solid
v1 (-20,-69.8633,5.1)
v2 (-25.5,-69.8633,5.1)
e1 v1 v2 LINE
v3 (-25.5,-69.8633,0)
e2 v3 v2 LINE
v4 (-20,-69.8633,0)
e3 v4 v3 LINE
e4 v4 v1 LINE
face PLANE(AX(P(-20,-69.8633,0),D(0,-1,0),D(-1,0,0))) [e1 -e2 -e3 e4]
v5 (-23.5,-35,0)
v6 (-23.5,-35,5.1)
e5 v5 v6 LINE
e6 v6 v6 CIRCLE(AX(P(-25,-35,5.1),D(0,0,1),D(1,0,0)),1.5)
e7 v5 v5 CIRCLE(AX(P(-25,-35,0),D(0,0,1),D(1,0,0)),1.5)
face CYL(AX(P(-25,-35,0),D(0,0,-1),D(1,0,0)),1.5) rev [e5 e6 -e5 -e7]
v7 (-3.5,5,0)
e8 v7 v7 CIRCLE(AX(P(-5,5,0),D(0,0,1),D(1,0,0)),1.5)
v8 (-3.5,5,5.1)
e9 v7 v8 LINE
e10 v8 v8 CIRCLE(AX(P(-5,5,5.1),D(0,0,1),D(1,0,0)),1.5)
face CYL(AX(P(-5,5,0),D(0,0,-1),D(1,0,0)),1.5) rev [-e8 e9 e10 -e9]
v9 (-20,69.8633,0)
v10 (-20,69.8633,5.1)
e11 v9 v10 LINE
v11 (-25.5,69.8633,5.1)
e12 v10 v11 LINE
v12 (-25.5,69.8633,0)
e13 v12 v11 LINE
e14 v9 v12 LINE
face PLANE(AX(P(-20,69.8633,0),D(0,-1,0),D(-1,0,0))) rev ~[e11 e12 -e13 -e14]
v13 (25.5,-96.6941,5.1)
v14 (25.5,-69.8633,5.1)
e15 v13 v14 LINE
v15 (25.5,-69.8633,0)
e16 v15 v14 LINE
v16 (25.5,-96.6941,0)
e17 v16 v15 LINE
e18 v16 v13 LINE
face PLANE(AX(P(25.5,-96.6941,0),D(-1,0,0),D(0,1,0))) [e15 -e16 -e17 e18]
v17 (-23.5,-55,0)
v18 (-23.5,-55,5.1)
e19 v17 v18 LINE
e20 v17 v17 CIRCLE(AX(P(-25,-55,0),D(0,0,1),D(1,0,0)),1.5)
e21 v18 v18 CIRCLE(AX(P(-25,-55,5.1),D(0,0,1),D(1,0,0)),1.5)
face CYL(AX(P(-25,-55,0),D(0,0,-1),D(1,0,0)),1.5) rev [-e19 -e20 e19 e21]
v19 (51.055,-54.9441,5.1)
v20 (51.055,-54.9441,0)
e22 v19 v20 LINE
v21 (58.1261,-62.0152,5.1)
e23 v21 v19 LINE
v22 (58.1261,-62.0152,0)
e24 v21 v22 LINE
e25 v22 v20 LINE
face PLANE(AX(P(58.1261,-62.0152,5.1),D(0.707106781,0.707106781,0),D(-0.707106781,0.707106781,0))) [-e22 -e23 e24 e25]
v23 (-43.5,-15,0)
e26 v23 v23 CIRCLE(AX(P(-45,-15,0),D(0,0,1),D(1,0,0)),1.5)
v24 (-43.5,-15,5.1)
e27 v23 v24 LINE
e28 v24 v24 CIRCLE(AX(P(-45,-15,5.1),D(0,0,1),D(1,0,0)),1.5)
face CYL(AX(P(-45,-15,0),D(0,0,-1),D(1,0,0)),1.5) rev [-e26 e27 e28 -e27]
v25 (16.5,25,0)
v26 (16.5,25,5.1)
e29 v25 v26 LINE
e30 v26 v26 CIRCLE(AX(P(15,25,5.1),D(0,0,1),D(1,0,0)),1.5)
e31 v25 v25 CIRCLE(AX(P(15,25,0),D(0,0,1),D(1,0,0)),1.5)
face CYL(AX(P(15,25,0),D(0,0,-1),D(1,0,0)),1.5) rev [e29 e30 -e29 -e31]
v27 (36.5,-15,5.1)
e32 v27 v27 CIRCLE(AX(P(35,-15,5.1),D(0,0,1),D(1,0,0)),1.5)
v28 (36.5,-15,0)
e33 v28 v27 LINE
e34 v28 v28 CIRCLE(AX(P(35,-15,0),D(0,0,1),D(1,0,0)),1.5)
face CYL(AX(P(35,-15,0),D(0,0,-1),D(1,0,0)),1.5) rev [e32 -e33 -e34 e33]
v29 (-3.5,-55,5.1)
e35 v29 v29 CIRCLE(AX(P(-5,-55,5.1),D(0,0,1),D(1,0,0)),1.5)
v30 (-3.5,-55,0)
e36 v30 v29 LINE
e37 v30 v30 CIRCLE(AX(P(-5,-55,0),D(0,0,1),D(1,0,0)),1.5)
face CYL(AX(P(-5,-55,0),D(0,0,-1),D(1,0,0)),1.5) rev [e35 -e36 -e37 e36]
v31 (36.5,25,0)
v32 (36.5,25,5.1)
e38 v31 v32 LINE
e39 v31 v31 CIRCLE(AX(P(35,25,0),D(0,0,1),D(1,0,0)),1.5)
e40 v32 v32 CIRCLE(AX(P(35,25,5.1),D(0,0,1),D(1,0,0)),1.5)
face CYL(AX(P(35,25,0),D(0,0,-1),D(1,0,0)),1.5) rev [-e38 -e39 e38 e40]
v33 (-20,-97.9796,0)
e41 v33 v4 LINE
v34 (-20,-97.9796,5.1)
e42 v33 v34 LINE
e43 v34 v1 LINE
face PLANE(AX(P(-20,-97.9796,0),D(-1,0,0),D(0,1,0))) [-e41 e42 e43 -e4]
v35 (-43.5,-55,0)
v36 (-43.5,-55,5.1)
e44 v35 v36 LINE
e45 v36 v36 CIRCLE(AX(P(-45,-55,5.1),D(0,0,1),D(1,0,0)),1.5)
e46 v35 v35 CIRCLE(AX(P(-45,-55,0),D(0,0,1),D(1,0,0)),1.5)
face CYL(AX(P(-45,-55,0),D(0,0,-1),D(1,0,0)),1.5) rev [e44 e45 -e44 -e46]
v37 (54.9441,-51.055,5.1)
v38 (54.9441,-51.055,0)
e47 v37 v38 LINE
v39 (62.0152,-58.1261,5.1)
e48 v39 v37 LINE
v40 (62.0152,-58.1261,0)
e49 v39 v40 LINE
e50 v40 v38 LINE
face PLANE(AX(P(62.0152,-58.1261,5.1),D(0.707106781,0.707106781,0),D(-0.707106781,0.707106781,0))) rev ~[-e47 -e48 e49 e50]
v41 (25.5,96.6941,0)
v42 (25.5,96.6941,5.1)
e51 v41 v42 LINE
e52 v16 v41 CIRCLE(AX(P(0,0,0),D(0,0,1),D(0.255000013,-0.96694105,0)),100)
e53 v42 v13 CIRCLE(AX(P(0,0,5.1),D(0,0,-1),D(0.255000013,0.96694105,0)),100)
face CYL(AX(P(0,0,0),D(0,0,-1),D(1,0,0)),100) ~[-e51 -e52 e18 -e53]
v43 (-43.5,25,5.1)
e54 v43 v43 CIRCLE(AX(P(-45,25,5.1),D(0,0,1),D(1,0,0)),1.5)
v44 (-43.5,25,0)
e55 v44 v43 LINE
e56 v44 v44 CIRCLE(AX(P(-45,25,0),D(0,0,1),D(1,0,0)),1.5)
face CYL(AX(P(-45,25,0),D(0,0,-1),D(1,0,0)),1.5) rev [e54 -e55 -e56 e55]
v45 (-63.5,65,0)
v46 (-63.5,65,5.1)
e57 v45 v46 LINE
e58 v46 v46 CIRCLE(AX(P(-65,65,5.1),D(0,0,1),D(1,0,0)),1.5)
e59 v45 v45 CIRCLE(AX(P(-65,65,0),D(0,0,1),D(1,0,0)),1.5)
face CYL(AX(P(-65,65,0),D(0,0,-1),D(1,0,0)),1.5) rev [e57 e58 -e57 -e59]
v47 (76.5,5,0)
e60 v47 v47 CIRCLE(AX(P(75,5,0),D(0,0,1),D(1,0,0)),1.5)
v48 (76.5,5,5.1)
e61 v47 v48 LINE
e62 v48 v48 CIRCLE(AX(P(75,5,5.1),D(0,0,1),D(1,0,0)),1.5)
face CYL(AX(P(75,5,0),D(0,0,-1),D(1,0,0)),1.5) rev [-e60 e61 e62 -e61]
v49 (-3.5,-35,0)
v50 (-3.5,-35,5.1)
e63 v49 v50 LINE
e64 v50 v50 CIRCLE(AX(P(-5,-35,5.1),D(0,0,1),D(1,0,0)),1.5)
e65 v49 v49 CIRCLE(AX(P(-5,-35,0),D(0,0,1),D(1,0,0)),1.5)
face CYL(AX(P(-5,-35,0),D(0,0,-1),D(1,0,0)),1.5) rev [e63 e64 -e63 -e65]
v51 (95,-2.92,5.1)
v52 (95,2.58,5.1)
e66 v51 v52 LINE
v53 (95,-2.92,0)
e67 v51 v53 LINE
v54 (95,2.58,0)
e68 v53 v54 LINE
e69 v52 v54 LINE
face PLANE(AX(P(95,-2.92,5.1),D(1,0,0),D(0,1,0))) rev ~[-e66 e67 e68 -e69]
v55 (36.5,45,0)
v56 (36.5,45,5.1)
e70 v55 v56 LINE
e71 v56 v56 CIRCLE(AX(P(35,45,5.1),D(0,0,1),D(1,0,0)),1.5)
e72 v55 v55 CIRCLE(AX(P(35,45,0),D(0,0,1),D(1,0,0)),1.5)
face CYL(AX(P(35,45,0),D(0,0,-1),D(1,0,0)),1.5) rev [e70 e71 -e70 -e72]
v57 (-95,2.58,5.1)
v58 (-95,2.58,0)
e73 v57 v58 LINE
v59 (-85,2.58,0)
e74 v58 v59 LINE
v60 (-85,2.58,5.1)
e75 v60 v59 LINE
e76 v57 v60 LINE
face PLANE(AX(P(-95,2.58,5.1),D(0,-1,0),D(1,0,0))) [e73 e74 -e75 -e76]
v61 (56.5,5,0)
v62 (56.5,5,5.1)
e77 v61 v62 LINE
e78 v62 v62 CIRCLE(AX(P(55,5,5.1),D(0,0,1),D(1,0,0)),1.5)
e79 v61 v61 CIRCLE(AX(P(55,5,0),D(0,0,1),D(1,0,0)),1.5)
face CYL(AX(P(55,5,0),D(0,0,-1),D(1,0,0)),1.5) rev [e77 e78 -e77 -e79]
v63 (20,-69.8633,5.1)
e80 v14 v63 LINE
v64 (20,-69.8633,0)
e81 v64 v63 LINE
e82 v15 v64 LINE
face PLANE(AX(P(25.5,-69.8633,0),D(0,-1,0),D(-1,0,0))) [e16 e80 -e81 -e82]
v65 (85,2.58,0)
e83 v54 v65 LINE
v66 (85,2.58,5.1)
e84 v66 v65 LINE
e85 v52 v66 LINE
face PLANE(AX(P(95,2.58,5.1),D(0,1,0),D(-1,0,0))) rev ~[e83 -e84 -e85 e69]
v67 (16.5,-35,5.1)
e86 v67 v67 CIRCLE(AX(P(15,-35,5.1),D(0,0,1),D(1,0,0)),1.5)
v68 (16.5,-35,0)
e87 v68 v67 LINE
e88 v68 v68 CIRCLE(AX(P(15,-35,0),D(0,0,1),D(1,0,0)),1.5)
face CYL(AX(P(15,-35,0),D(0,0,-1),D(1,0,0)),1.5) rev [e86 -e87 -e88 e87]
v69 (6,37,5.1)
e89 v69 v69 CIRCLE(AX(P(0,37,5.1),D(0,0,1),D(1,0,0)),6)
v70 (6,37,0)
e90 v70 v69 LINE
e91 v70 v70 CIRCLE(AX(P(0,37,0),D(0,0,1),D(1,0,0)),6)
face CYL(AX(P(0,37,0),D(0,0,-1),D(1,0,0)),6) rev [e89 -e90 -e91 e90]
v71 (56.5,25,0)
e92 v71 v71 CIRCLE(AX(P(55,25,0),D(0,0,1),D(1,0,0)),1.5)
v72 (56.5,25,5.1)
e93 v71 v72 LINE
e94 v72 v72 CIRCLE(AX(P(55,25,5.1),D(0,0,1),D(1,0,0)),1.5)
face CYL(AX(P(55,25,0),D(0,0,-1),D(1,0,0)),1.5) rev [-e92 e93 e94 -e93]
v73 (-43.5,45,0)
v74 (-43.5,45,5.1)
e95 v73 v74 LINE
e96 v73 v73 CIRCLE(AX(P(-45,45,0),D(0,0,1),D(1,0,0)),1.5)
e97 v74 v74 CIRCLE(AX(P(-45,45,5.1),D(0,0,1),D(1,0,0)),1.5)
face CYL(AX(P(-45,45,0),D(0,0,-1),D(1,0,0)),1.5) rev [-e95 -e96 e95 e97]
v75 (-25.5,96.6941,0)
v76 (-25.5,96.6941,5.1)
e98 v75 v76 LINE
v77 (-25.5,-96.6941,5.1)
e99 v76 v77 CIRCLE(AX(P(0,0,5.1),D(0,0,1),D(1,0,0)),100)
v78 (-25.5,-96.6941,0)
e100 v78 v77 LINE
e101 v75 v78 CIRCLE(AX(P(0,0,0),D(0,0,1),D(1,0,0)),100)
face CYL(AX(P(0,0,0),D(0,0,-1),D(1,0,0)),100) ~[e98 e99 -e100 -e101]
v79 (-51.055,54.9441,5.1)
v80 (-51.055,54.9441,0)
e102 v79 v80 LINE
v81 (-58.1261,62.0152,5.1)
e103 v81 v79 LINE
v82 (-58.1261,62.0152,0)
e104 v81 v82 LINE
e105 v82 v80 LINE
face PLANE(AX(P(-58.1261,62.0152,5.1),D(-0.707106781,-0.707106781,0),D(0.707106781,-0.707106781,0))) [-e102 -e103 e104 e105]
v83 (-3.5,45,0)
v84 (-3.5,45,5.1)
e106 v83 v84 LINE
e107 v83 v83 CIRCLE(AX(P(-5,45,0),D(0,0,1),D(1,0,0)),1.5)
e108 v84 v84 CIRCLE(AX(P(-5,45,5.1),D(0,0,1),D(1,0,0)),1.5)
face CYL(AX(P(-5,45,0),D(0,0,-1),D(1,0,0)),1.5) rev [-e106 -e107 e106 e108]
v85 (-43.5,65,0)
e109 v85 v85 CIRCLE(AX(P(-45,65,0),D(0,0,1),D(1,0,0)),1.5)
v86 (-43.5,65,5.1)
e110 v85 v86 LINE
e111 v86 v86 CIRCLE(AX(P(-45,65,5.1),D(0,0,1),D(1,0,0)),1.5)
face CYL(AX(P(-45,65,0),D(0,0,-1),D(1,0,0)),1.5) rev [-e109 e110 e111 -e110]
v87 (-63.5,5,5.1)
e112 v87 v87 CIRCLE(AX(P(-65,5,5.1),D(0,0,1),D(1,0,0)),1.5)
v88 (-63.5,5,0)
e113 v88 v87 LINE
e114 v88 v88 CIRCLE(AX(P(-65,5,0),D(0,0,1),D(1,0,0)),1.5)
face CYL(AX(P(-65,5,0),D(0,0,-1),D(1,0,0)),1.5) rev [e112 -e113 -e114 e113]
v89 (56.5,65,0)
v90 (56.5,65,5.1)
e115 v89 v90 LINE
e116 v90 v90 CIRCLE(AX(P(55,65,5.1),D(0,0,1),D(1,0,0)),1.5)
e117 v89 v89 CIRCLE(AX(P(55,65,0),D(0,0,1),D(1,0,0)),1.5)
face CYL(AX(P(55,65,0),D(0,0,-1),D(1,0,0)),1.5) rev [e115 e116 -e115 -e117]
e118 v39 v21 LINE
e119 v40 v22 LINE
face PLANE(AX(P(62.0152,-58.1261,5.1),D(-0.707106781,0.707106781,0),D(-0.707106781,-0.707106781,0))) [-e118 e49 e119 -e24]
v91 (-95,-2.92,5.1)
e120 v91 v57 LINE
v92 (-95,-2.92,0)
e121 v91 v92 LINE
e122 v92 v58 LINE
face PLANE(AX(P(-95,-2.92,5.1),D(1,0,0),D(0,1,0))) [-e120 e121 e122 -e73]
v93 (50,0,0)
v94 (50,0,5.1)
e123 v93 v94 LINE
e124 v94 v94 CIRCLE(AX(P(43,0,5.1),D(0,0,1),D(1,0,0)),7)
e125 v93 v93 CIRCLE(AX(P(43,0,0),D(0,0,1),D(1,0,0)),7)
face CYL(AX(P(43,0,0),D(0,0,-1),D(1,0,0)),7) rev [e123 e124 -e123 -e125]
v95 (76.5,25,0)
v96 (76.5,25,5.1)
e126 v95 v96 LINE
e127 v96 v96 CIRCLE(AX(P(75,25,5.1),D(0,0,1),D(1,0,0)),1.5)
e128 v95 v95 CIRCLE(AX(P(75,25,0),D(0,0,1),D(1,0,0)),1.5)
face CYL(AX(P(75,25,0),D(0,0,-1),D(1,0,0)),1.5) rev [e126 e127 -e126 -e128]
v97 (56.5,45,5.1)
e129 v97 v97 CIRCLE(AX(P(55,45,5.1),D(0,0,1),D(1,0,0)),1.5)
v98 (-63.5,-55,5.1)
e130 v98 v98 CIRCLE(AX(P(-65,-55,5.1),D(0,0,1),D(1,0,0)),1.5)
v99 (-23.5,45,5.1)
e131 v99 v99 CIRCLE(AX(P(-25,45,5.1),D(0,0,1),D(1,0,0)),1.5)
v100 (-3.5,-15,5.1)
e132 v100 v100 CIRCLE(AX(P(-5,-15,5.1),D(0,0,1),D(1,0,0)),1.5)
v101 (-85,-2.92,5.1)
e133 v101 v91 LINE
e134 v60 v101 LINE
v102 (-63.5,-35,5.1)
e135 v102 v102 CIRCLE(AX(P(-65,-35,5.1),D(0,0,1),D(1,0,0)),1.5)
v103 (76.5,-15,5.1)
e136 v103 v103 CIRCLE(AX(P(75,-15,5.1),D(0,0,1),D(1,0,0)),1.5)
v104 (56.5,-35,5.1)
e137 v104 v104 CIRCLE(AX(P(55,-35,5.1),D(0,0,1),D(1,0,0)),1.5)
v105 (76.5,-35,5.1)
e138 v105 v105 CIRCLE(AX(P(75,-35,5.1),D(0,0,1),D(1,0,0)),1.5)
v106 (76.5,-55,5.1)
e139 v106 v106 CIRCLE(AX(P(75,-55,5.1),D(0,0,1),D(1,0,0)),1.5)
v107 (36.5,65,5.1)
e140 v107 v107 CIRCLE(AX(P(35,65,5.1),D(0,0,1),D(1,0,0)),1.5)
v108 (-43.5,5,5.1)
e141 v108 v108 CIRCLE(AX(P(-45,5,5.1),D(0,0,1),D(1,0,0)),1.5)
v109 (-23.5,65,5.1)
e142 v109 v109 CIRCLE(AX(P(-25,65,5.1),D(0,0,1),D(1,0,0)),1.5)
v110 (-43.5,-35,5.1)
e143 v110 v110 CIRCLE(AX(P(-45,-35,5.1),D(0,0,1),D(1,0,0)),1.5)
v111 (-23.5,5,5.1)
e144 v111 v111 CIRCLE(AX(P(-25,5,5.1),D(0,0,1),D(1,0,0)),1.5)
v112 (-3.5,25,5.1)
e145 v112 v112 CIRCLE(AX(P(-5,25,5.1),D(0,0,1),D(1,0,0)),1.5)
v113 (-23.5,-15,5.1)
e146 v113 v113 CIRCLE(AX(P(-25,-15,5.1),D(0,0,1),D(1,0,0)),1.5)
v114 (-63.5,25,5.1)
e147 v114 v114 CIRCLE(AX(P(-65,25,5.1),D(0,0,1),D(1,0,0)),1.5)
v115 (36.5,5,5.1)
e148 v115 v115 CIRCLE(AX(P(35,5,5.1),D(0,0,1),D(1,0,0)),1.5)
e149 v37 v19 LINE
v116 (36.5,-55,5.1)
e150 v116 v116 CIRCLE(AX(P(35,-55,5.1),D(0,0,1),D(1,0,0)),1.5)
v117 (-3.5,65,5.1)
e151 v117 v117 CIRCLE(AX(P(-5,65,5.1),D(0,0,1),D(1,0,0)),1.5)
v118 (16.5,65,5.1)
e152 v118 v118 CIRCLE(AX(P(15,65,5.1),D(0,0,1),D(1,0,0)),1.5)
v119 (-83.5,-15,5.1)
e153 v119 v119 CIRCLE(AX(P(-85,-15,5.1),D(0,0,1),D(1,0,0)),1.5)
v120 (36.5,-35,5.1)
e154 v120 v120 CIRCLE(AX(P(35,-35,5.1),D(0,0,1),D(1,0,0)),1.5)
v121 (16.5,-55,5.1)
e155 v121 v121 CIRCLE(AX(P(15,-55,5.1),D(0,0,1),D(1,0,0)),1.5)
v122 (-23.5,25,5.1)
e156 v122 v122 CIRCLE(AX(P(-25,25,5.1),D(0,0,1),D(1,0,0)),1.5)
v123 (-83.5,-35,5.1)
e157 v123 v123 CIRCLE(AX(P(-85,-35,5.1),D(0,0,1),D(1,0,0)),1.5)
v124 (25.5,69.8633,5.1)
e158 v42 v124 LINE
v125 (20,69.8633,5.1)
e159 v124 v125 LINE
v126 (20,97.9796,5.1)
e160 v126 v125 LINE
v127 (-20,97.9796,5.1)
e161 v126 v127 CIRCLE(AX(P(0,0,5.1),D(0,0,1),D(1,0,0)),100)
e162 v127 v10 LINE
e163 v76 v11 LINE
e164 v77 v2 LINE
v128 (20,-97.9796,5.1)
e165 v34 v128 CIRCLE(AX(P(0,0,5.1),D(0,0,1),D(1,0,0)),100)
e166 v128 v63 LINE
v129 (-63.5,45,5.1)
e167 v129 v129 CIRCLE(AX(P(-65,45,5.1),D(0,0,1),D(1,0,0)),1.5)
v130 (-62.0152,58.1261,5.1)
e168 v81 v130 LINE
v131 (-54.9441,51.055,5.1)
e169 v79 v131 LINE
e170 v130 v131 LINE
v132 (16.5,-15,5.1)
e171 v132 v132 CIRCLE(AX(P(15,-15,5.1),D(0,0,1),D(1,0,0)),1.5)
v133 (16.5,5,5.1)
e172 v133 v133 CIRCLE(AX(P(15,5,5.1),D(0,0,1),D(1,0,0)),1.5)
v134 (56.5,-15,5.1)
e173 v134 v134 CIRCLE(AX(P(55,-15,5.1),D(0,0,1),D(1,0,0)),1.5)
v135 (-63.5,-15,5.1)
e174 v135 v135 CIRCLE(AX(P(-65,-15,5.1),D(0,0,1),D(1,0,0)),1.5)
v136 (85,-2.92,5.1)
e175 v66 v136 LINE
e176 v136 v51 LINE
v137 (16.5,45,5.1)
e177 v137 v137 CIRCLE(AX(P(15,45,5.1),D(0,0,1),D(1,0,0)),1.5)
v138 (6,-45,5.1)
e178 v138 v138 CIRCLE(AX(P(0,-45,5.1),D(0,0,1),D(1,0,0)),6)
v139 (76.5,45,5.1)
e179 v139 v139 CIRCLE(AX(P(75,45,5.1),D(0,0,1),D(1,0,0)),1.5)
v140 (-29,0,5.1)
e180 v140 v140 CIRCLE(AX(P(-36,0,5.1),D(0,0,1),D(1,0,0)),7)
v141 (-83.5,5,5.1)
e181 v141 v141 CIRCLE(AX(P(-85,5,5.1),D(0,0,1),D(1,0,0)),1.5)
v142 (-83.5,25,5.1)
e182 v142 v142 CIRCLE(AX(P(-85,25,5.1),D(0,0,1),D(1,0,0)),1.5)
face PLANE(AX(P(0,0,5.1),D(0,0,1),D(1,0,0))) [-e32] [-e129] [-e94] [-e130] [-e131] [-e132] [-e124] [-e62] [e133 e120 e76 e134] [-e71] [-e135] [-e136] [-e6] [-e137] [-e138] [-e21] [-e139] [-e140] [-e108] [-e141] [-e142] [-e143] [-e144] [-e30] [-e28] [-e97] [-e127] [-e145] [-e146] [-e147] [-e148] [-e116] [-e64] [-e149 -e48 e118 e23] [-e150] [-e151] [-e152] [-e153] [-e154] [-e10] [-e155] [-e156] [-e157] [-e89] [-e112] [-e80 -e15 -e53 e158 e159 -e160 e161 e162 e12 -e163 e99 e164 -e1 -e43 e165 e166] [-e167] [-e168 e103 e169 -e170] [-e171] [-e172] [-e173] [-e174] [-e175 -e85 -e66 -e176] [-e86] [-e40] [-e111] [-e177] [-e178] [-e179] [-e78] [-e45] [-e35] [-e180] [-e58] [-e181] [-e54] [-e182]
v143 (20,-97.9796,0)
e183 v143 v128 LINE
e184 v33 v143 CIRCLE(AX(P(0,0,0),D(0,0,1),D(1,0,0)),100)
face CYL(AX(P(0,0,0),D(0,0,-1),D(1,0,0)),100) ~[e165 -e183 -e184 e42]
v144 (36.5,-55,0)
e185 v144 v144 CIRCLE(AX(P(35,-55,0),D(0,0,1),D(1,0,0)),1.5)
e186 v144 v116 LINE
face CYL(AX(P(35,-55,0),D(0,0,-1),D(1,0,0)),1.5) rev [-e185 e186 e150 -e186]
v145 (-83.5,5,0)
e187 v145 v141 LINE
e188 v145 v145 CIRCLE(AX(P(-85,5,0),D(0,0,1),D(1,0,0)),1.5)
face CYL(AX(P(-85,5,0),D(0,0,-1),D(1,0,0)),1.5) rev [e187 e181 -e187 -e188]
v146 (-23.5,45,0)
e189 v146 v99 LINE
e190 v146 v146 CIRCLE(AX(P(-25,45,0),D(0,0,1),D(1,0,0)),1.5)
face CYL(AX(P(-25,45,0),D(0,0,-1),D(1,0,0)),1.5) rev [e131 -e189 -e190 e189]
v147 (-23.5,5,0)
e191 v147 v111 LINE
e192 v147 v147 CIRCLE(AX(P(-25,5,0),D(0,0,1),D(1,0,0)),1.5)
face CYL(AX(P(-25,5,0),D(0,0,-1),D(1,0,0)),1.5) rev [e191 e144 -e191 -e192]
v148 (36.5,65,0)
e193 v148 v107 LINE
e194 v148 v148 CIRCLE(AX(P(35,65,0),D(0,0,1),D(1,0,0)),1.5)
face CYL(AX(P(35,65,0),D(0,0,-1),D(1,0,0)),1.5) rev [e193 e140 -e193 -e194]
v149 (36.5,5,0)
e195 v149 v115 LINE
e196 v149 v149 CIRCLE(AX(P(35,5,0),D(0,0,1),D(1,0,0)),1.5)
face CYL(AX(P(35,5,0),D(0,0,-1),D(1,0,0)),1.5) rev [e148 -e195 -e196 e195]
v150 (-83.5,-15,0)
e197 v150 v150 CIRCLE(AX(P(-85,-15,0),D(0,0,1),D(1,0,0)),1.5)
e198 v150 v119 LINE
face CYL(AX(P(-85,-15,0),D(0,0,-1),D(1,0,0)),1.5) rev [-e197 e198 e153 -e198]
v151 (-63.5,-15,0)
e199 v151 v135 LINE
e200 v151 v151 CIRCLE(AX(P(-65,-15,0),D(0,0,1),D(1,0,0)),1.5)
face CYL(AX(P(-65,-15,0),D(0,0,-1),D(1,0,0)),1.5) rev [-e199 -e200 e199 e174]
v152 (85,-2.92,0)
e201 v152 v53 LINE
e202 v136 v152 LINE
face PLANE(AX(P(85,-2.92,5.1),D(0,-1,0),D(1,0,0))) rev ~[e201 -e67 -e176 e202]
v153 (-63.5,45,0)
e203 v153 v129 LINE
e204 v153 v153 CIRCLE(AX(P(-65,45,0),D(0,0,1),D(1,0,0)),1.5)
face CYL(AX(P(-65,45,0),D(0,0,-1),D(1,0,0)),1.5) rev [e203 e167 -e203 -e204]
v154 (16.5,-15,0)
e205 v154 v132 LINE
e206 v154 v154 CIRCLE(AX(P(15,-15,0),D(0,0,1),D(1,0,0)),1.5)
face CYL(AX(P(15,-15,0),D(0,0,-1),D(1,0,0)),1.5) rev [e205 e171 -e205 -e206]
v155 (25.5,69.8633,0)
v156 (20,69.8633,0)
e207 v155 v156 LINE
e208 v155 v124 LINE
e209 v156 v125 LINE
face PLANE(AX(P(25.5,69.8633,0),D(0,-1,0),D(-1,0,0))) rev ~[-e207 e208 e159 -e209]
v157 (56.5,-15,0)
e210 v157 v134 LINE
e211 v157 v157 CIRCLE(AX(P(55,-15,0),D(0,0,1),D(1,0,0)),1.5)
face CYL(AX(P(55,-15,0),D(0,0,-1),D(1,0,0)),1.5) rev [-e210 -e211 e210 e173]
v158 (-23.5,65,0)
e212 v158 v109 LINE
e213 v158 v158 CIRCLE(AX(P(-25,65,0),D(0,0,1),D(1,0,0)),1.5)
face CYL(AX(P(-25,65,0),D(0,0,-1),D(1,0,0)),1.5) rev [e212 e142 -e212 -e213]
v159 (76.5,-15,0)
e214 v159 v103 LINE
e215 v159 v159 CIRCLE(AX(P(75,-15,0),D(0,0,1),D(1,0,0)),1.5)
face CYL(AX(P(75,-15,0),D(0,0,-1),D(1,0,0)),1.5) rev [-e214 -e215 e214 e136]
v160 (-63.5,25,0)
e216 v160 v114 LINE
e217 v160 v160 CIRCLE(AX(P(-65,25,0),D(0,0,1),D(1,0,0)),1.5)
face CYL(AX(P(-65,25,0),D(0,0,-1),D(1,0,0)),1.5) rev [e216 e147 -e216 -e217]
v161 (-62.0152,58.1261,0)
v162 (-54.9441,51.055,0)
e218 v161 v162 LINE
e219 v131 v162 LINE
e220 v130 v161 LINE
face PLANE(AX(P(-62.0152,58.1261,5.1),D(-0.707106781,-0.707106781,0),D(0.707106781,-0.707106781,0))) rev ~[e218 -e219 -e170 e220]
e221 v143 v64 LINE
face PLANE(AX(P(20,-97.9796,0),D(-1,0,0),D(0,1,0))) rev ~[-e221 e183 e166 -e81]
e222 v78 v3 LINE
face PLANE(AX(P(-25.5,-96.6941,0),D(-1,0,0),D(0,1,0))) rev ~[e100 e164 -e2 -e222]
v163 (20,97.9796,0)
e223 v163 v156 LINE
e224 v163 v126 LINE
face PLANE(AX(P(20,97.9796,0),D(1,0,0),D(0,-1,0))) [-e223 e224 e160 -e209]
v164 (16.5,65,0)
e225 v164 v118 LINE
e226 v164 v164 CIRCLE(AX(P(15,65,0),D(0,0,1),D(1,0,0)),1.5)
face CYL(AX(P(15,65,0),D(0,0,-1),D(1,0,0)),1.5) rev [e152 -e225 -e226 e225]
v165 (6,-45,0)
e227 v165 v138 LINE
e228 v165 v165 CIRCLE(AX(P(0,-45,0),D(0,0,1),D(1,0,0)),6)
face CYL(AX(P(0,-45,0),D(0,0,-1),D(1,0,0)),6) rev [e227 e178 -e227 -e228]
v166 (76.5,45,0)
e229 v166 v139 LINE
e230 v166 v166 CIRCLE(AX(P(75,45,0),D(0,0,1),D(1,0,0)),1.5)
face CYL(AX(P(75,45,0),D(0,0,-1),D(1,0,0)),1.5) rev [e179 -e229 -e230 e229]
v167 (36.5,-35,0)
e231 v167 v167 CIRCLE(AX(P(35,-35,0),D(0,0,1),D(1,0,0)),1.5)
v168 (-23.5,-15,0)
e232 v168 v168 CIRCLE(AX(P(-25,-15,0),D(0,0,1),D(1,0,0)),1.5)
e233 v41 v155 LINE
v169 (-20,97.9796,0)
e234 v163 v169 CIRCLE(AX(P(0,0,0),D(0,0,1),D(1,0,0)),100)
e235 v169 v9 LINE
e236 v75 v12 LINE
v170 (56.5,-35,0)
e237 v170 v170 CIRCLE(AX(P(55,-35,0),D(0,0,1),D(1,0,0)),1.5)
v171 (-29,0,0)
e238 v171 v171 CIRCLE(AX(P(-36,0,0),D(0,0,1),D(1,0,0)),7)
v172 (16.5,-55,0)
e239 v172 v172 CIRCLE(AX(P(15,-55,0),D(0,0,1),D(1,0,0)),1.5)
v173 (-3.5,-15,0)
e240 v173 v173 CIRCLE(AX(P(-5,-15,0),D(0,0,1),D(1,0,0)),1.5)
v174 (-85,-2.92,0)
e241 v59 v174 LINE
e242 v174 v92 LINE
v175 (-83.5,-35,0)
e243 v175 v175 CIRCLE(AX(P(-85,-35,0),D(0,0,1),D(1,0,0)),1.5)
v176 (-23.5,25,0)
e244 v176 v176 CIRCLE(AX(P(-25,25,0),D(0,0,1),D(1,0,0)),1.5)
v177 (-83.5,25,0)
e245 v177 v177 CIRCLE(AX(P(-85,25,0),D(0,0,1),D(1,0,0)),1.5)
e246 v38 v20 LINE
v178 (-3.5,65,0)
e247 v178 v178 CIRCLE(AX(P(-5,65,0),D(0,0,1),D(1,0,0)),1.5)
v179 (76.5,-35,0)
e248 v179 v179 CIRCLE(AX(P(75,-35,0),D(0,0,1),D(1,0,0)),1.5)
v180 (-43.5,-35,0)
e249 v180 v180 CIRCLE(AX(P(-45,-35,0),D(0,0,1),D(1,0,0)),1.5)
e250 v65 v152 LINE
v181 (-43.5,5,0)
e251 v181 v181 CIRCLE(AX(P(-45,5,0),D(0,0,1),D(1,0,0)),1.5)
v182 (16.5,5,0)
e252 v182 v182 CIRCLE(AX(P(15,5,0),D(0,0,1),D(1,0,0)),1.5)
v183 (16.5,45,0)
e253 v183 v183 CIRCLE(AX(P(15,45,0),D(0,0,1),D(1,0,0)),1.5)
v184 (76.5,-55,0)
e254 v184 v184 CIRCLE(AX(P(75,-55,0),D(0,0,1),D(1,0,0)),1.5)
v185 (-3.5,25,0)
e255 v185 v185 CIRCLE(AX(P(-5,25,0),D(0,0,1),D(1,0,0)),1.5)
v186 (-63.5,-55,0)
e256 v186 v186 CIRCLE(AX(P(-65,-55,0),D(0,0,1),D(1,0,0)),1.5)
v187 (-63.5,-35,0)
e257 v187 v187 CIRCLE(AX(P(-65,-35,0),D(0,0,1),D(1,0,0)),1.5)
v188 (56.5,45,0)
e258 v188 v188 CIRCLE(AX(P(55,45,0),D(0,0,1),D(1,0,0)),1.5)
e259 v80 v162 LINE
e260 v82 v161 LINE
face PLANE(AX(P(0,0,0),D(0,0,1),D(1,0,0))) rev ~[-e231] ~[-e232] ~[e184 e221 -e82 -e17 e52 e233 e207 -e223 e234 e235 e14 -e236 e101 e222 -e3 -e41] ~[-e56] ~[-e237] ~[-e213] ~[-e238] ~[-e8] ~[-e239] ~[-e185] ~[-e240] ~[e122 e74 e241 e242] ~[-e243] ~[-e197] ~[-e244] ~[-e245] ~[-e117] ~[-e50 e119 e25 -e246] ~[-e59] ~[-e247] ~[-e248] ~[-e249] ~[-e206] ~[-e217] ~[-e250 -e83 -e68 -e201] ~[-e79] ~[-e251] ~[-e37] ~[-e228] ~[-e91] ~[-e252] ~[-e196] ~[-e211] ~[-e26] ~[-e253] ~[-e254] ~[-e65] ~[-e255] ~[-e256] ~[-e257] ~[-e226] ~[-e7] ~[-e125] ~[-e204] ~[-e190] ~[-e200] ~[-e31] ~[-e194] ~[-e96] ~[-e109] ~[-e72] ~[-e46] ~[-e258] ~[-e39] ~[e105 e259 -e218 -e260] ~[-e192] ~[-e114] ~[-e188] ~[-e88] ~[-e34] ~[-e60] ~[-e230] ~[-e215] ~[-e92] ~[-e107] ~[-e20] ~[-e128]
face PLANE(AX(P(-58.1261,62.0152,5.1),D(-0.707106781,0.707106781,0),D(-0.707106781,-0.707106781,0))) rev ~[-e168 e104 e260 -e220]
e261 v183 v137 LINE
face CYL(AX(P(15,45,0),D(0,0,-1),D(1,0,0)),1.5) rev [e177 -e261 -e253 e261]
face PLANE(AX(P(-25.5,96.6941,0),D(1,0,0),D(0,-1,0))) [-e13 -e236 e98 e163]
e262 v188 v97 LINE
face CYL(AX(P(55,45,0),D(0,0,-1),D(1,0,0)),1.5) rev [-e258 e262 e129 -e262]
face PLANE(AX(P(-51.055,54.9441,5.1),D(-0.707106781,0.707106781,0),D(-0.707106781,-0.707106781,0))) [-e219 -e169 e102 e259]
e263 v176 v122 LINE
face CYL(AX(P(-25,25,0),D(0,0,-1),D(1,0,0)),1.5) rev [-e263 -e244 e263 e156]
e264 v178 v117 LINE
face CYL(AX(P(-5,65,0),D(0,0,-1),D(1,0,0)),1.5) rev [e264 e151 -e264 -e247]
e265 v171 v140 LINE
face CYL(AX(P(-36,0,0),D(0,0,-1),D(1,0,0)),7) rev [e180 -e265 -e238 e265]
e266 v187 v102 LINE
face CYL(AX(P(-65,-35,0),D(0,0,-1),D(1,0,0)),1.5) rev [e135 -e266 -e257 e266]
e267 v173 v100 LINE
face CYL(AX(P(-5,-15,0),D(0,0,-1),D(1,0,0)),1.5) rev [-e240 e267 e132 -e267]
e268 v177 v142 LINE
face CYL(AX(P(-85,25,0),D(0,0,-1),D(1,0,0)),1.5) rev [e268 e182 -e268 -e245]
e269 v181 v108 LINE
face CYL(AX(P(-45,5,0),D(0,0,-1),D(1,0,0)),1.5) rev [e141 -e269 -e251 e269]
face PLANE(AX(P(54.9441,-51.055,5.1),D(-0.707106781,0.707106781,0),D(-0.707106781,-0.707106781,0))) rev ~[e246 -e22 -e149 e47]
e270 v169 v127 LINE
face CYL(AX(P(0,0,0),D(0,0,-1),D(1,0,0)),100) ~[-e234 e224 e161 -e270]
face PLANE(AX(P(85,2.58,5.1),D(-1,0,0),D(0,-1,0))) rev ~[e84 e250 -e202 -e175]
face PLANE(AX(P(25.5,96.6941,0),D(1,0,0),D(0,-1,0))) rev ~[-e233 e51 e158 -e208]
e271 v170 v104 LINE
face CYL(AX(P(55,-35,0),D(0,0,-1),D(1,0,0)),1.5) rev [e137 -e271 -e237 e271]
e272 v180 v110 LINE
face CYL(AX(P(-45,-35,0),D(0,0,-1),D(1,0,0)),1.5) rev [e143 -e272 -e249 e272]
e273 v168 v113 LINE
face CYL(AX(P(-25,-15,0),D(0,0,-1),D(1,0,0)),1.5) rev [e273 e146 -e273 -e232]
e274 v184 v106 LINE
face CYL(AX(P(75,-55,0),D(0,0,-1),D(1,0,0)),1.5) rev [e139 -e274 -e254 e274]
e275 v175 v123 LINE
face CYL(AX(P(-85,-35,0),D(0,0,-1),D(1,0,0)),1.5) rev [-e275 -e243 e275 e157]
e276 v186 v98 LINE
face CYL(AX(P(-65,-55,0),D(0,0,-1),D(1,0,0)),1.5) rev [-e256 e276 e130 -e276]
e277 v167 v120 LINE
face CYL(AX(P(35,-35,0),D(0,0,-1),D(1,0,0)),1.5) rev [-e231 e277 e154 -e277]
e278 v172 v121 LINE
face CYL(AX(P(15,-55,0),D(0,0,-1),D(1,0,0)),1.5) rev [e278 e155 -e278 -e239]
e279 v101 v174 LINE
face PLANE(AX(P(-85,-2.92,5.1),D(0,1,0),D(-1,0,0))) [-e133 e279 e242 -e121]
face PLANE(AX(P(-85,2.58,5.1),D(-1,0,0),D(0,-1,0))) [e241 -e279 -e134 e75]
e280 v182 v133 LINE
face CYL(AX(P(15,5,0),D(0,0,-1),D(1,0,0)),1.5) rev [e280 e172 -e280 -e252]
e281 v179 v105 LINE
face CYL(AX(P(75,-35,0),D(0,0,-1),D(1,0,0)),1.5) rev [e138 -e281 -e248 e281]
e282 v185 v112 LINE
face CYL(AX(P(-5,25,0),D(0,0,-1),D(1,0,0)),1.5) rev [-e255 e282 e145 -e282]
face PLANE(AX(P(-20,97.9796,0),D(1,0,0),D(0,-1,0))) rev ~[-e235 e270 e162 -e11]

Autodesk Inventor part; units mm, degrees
ref_plane "YZ Plane" through (0, 0, 0) normal (1, 0, 0) x (0, 1, 0)
ref_plane "XZ Plane" through (0, 0, 0) normal (0, 1, 0) x (-1, 0, 0)
ref_plane "XY Plane" through (0, 0, 0) normal (0, 0, 1) x (1, 0, 0)
sketch "Sketch2" plane through (0, 0, 0) normal (0, 0, 1) x (1, 0, 0)
  circle A0 centre (0, 0) radius 100
  line L0 (65, -65) -> (-65, -65) construction
  line L1 (-65, -65) -> (-65, 65) construction
  line L2 (-65, 65) -> (65, 65) construction
  line L3 (65, 65) -> (65, -65) construction
  line L4 (65, -65) -> (-65, 65) construction
  line L5 (-65, -65) -> (65, 65) construction
  line L6 (45, 45) -> (-45, 45) construction
  line L7 (-45, 45) -> (-45, -45) construction
  line L8 (-45, -45) -> (45, -45) construction
  line L9 (45, -45) -> (45, 45) construction
  line L10 (-25, 25) -> (25, 25) construction
  line L11 (25, 25) -> (25, -25) construction
  line L12 (25, -25) -> (-25, -25) construction
  line L13 (-25, -25) -> (-25, 25) construction
  line L14 (5, 5) -> (-5, 5) construction
  line L15 (-5, 5) -> (-5, -5) construction
  line L16 (-5, -5) -> (5, -5) construction
  line L17 (5, -5) -> (5, 5) construction
  circle A1 centre (-65, 65) radius 1.5
  circle A2 centre (-45, 65) radius 1.5
  circle A3 centre (-25, 65) radius 1.5
  circle A4 centre (-5, 65) radius 1.5
  circle A5 centre (15, 65) radius 1.5
  circle A6 centre (35, 65) radius 1.5
  circle A7 centre (55, 65) radius 1.5
  circle A8 centre (-65, 45) radius 1.5
  circle A9 centre (-65, 25) radius 1.5
  circle A10 centre (-65, 5) radius 1.5
  circle A11 centre (-65, -15) radius 1.5
  circle A12 centre (-65, -35) radius 1.5
  circle A13 centre (-65, -55) radius 1.5
  circle A14 centre (-45, 45) radius 1.5
  circle A15 centre (-25, 45) radius 1.5
  circle A16 centre (-5, 45) radius 1.5
  circle A17 centre (15, 45) radius 1.5
  circle A18 centre (35, 45) radius 1.5
  circle A19 centre (55, 45) radius 1.5
  circle A20 centre (-45, 25) radius 1.5
  circle A21 centre (-25, 25) radius 1.5
  circle A22 centre (-5, 25) radius 1.5
  circle A23 centre (15, 25) radius 1.5
  circle A24 centre (35, 25) radius 1.5
  circle A25 centre (55, 25) radius 1.5
  circle A26 centre (75, 25) radius 1.5
  circle A27 centre (-45, 5) radius 1.5
  circle A28 centre (-25, 5) radius 1.5
  circle A29 centre (-5, 5) radius 1.5
  circle A30 centre (15, 5) radius 1.5
  circle A31 centre (35, 5) radius 1.5
  circle A32 centre (55, 5) radius 1.5
  circle A33 centre (75, 5) radius 1.5
  circle A34 centre (-85, 25) radius 1.5
  circle A35 centre (-85, 5) radius 1.5
  circle A36 centre (-85, -15) radius 1.5
  circle A37 centre (-45, -15) radius 1.5
  circle A38 centre (-25, -15) radius 1.5
  circle A39 centre (-5, -15) radius 1.5
  circle A40 centre (15, -15) radius 1.5
  circle A41 centre (35, -15) radius 1.5
  circle A42 centre (55, -15) radius 1.5
  circle A43 centre (75, -15) radius 1.5
  circle A44 centre (-85, -35) radius 1.5
  circle A45 centre (-45, -35) radius 1.5
  circle A46 centre (-25, -35) radius 1.5
  circle A47 centre (-5, -35) radius 1.5
  circle A48 centre (15, -35) radius 1.5
  circle A49 centre (35, -35) radius 1.5
  circle A50 centre (55, -35) radius 1.5
  circle A51 centre (75, -35) radius 1.5
  circle A52 centre (-45, -55) radius 1.5
  circle A53 centre (-25, -55) radius 1.5
  circle A54 centre (-5, -55) radius 1.5
  circle A55 centre (15, -55) radius 1.5
  circle A56 centre (35, -55) radius 1.5
  circle A57 centre (55, -55) radius 1.5
  circle A58 centre (75, -55) radius 1.5
  circle A59 centre (75, 45) radius 1.5
  line L18 (-25.5, 96.6941) -> (-25.5, 69.8633)
  line L19 (-20, 97.9796) -> (-20, 69.8633)
  line L20 (0, 0) -> (0, 137.1728) construction
  line L21 (20, 97.9796) -> (20, 69.8633)
  line L22 (25.5, 96.6941) -> (25.5, 69.8633)
  line L23 (-20, 69.8633) -> (-25.5, 69.8633)
  line L24 (25.5, 69.8633) -> (20, 69.8633)
  line L25 (0, 0) -> (86, 0) construction
  line L26 (-25.5, -96.6941) -> (-25.5, -69.8633)
  line L27 (-20, -97.9796) -> (-20, -69.8633)
  line L28 (20, -97.9796) -> (20, -69.8633)
  line L29 (25.5, -96.6941) -> (25.5, -69.8633)
  line L30 (-20, -69.8633) -> (-25.5, -69.8633)
  line L31 (25.5, -69.8633) -> (20, -69.8633)
  circle A60 centre (0, 37) radius 6
  circle A61 centre (0, -45) radius 6
  circle A62 centre (-36, 0) radius 7
  circle A63 centre (43, 0) radius 7
  point P0 (-20, 99.8633)
  point P1 (-25.5, 99.8633)
  point P2 (22.75, 69.8633)
  point P3 (-25, 0)
  point P4 (-25.5, -96.6941)
  point P5 (25.5, -96.6941)
  dimension "d66" = 200
  dimension "d67" = 130
  dimension "d68" = 130
  dimension "d69" = 20
  dimension "d70" = 20
  dimension "d71" = 20
  dimension "d72" = 3
  dimension "d75" = 20
  dimension "d82" = 20
  dimension "d89" = 20
  dimension "d96" = 20
  dimension "d103" = 20
  dimension "d110" = 20
  dimension "d117" = 20
  dimension "d124" = 20
  dimension "d131" = 20
  dimension "d138" = 20
  dimension "d145" = 20
  dimension "d152" = 20
  dimension "d159" = 20
  dimension "d164" = 5.5
  dimension "d165" = 20
  dimension "d166" = 40
  dimension "d167" = 5.5
  dimension "d168" = 30
  dimension "d169" = 30
  dimension "d170" = 69.8633
  dimension "d176" = 12
  dimension "d177" = 37
  dimension "d178" = 12
  dimension "d179" = 14
  dimension "d180" = 11
  dimension "d181" = 97.9796
  dimension "d182" = 14
  dimension "d183" = 43
extrude "Extrusion1" add sketch "Sketch2" along normal blind 5.1 contours A0 L29 L31 L28 L27 L30 L26 L18 L23 L19 L21 L24 L22
sketch "Sketch3" plane through (0, 0, 5.1) normal (0, 0, 1) x (1, 0, 0)
  line L0 (-85, -2.92) -> (-95, -2.92)
  line L1 (-95, -2.92) -> (-95, 2.58)
  line L2 (-95, 2.58) -> (-85, 2.58)
  line L3 (-85, 2.58) -> (-85, -2.92)
  line L4 (-85, -2.92) -> (-95, 2.58) construction
  line L5 (-95, -2.92) -> (-85, 2.58) construction
  line L6 (0, 0) -> (0, -14.8693) construction
  line L7 (85, -2.92) -> (95, -2.92)
  line L8 (95, -2.92) -> (95, 2.58)
  line L9 (95, 2.58) -> (85, 2.58)
  line L10 (85, 2.58) -> (85, -2.92)
  line L11 (85, -2.92) -> (95, 2.58) construction
  line L12 (95, -2.92) -> (85, 2.58) construction
  point P0 (-90, -0.17)
  point P1 (-90, -2.92)
  point P2 (90, -0.17)
  point P3 (90, -2.92)
  dimension "d186" = 10
  dimension "d187" = 5.5
  dimension "d188" = 90
extrude "Extrusion2" cut sketch "Sketch3" against normal blind 10
sketch "Sketch4" plane through (0, 0, 5.1) normal (0, 0, 1) x (1, 0, 0)
  line L0 (0, 0) -> (-90.4927, 90.4927) construction
  line L1 (0, 0) -> (-18.6759, 0) construction
  line L2 (0, 0) -> (-18.7177, -18.7177) construction
  line L3 (-85, -2.92) -> (-95, -2.92) projected
  line L4 (-95, 2.58) -> (-85, 2.58) projected
  line L5 (-85, 2.58) -> (-85, -2.92) projected
  line L6 (-62.0152, 58.1261) -> (-54.9441, 51.055)
  line L7 (-58.1261, 62.0152) -> (-51.055, 54.9441)
  line L8 (-58.1261, 62.0152) -> (-62.0152, 58.1261)
  line L9 (-51.055, 54.9441) -> (-54.9441, 51.055)
  line L10 (0, 0) -> (90.4927, -90.4927) construction
  line L11 (58.1261, -62.0152) -> (51.055, -54.9441)
  line L12 (62.0152, -58.1261) -> (54.9441, -51.055)
  line L13 (62.0152, -58.1261) -> (58.1261, -62.0152)
  line L14 (54.9441, -51.055) -> (51.055, -54.9441)
  point P0 (-58.4797, 54.5906)
  point P1 (-54.5906, 58.4797)
  point P2 (54.5906, -58.4797)
  point P3 (58.4797, -54.5906)
  dimension "d192" = 45
  dimension "d193" = 45
  dimension "d194" = 10
  dimension "d195" = 80
  dimension "d196" = 80
  dimension "d197" = 2.75
  dimension "d198" = 2.75
extrude "Extrusion3" cut sketch "Sketch4" against normal blind 10
properties part number "baseplate" material "Polycarbonate, Clear"
